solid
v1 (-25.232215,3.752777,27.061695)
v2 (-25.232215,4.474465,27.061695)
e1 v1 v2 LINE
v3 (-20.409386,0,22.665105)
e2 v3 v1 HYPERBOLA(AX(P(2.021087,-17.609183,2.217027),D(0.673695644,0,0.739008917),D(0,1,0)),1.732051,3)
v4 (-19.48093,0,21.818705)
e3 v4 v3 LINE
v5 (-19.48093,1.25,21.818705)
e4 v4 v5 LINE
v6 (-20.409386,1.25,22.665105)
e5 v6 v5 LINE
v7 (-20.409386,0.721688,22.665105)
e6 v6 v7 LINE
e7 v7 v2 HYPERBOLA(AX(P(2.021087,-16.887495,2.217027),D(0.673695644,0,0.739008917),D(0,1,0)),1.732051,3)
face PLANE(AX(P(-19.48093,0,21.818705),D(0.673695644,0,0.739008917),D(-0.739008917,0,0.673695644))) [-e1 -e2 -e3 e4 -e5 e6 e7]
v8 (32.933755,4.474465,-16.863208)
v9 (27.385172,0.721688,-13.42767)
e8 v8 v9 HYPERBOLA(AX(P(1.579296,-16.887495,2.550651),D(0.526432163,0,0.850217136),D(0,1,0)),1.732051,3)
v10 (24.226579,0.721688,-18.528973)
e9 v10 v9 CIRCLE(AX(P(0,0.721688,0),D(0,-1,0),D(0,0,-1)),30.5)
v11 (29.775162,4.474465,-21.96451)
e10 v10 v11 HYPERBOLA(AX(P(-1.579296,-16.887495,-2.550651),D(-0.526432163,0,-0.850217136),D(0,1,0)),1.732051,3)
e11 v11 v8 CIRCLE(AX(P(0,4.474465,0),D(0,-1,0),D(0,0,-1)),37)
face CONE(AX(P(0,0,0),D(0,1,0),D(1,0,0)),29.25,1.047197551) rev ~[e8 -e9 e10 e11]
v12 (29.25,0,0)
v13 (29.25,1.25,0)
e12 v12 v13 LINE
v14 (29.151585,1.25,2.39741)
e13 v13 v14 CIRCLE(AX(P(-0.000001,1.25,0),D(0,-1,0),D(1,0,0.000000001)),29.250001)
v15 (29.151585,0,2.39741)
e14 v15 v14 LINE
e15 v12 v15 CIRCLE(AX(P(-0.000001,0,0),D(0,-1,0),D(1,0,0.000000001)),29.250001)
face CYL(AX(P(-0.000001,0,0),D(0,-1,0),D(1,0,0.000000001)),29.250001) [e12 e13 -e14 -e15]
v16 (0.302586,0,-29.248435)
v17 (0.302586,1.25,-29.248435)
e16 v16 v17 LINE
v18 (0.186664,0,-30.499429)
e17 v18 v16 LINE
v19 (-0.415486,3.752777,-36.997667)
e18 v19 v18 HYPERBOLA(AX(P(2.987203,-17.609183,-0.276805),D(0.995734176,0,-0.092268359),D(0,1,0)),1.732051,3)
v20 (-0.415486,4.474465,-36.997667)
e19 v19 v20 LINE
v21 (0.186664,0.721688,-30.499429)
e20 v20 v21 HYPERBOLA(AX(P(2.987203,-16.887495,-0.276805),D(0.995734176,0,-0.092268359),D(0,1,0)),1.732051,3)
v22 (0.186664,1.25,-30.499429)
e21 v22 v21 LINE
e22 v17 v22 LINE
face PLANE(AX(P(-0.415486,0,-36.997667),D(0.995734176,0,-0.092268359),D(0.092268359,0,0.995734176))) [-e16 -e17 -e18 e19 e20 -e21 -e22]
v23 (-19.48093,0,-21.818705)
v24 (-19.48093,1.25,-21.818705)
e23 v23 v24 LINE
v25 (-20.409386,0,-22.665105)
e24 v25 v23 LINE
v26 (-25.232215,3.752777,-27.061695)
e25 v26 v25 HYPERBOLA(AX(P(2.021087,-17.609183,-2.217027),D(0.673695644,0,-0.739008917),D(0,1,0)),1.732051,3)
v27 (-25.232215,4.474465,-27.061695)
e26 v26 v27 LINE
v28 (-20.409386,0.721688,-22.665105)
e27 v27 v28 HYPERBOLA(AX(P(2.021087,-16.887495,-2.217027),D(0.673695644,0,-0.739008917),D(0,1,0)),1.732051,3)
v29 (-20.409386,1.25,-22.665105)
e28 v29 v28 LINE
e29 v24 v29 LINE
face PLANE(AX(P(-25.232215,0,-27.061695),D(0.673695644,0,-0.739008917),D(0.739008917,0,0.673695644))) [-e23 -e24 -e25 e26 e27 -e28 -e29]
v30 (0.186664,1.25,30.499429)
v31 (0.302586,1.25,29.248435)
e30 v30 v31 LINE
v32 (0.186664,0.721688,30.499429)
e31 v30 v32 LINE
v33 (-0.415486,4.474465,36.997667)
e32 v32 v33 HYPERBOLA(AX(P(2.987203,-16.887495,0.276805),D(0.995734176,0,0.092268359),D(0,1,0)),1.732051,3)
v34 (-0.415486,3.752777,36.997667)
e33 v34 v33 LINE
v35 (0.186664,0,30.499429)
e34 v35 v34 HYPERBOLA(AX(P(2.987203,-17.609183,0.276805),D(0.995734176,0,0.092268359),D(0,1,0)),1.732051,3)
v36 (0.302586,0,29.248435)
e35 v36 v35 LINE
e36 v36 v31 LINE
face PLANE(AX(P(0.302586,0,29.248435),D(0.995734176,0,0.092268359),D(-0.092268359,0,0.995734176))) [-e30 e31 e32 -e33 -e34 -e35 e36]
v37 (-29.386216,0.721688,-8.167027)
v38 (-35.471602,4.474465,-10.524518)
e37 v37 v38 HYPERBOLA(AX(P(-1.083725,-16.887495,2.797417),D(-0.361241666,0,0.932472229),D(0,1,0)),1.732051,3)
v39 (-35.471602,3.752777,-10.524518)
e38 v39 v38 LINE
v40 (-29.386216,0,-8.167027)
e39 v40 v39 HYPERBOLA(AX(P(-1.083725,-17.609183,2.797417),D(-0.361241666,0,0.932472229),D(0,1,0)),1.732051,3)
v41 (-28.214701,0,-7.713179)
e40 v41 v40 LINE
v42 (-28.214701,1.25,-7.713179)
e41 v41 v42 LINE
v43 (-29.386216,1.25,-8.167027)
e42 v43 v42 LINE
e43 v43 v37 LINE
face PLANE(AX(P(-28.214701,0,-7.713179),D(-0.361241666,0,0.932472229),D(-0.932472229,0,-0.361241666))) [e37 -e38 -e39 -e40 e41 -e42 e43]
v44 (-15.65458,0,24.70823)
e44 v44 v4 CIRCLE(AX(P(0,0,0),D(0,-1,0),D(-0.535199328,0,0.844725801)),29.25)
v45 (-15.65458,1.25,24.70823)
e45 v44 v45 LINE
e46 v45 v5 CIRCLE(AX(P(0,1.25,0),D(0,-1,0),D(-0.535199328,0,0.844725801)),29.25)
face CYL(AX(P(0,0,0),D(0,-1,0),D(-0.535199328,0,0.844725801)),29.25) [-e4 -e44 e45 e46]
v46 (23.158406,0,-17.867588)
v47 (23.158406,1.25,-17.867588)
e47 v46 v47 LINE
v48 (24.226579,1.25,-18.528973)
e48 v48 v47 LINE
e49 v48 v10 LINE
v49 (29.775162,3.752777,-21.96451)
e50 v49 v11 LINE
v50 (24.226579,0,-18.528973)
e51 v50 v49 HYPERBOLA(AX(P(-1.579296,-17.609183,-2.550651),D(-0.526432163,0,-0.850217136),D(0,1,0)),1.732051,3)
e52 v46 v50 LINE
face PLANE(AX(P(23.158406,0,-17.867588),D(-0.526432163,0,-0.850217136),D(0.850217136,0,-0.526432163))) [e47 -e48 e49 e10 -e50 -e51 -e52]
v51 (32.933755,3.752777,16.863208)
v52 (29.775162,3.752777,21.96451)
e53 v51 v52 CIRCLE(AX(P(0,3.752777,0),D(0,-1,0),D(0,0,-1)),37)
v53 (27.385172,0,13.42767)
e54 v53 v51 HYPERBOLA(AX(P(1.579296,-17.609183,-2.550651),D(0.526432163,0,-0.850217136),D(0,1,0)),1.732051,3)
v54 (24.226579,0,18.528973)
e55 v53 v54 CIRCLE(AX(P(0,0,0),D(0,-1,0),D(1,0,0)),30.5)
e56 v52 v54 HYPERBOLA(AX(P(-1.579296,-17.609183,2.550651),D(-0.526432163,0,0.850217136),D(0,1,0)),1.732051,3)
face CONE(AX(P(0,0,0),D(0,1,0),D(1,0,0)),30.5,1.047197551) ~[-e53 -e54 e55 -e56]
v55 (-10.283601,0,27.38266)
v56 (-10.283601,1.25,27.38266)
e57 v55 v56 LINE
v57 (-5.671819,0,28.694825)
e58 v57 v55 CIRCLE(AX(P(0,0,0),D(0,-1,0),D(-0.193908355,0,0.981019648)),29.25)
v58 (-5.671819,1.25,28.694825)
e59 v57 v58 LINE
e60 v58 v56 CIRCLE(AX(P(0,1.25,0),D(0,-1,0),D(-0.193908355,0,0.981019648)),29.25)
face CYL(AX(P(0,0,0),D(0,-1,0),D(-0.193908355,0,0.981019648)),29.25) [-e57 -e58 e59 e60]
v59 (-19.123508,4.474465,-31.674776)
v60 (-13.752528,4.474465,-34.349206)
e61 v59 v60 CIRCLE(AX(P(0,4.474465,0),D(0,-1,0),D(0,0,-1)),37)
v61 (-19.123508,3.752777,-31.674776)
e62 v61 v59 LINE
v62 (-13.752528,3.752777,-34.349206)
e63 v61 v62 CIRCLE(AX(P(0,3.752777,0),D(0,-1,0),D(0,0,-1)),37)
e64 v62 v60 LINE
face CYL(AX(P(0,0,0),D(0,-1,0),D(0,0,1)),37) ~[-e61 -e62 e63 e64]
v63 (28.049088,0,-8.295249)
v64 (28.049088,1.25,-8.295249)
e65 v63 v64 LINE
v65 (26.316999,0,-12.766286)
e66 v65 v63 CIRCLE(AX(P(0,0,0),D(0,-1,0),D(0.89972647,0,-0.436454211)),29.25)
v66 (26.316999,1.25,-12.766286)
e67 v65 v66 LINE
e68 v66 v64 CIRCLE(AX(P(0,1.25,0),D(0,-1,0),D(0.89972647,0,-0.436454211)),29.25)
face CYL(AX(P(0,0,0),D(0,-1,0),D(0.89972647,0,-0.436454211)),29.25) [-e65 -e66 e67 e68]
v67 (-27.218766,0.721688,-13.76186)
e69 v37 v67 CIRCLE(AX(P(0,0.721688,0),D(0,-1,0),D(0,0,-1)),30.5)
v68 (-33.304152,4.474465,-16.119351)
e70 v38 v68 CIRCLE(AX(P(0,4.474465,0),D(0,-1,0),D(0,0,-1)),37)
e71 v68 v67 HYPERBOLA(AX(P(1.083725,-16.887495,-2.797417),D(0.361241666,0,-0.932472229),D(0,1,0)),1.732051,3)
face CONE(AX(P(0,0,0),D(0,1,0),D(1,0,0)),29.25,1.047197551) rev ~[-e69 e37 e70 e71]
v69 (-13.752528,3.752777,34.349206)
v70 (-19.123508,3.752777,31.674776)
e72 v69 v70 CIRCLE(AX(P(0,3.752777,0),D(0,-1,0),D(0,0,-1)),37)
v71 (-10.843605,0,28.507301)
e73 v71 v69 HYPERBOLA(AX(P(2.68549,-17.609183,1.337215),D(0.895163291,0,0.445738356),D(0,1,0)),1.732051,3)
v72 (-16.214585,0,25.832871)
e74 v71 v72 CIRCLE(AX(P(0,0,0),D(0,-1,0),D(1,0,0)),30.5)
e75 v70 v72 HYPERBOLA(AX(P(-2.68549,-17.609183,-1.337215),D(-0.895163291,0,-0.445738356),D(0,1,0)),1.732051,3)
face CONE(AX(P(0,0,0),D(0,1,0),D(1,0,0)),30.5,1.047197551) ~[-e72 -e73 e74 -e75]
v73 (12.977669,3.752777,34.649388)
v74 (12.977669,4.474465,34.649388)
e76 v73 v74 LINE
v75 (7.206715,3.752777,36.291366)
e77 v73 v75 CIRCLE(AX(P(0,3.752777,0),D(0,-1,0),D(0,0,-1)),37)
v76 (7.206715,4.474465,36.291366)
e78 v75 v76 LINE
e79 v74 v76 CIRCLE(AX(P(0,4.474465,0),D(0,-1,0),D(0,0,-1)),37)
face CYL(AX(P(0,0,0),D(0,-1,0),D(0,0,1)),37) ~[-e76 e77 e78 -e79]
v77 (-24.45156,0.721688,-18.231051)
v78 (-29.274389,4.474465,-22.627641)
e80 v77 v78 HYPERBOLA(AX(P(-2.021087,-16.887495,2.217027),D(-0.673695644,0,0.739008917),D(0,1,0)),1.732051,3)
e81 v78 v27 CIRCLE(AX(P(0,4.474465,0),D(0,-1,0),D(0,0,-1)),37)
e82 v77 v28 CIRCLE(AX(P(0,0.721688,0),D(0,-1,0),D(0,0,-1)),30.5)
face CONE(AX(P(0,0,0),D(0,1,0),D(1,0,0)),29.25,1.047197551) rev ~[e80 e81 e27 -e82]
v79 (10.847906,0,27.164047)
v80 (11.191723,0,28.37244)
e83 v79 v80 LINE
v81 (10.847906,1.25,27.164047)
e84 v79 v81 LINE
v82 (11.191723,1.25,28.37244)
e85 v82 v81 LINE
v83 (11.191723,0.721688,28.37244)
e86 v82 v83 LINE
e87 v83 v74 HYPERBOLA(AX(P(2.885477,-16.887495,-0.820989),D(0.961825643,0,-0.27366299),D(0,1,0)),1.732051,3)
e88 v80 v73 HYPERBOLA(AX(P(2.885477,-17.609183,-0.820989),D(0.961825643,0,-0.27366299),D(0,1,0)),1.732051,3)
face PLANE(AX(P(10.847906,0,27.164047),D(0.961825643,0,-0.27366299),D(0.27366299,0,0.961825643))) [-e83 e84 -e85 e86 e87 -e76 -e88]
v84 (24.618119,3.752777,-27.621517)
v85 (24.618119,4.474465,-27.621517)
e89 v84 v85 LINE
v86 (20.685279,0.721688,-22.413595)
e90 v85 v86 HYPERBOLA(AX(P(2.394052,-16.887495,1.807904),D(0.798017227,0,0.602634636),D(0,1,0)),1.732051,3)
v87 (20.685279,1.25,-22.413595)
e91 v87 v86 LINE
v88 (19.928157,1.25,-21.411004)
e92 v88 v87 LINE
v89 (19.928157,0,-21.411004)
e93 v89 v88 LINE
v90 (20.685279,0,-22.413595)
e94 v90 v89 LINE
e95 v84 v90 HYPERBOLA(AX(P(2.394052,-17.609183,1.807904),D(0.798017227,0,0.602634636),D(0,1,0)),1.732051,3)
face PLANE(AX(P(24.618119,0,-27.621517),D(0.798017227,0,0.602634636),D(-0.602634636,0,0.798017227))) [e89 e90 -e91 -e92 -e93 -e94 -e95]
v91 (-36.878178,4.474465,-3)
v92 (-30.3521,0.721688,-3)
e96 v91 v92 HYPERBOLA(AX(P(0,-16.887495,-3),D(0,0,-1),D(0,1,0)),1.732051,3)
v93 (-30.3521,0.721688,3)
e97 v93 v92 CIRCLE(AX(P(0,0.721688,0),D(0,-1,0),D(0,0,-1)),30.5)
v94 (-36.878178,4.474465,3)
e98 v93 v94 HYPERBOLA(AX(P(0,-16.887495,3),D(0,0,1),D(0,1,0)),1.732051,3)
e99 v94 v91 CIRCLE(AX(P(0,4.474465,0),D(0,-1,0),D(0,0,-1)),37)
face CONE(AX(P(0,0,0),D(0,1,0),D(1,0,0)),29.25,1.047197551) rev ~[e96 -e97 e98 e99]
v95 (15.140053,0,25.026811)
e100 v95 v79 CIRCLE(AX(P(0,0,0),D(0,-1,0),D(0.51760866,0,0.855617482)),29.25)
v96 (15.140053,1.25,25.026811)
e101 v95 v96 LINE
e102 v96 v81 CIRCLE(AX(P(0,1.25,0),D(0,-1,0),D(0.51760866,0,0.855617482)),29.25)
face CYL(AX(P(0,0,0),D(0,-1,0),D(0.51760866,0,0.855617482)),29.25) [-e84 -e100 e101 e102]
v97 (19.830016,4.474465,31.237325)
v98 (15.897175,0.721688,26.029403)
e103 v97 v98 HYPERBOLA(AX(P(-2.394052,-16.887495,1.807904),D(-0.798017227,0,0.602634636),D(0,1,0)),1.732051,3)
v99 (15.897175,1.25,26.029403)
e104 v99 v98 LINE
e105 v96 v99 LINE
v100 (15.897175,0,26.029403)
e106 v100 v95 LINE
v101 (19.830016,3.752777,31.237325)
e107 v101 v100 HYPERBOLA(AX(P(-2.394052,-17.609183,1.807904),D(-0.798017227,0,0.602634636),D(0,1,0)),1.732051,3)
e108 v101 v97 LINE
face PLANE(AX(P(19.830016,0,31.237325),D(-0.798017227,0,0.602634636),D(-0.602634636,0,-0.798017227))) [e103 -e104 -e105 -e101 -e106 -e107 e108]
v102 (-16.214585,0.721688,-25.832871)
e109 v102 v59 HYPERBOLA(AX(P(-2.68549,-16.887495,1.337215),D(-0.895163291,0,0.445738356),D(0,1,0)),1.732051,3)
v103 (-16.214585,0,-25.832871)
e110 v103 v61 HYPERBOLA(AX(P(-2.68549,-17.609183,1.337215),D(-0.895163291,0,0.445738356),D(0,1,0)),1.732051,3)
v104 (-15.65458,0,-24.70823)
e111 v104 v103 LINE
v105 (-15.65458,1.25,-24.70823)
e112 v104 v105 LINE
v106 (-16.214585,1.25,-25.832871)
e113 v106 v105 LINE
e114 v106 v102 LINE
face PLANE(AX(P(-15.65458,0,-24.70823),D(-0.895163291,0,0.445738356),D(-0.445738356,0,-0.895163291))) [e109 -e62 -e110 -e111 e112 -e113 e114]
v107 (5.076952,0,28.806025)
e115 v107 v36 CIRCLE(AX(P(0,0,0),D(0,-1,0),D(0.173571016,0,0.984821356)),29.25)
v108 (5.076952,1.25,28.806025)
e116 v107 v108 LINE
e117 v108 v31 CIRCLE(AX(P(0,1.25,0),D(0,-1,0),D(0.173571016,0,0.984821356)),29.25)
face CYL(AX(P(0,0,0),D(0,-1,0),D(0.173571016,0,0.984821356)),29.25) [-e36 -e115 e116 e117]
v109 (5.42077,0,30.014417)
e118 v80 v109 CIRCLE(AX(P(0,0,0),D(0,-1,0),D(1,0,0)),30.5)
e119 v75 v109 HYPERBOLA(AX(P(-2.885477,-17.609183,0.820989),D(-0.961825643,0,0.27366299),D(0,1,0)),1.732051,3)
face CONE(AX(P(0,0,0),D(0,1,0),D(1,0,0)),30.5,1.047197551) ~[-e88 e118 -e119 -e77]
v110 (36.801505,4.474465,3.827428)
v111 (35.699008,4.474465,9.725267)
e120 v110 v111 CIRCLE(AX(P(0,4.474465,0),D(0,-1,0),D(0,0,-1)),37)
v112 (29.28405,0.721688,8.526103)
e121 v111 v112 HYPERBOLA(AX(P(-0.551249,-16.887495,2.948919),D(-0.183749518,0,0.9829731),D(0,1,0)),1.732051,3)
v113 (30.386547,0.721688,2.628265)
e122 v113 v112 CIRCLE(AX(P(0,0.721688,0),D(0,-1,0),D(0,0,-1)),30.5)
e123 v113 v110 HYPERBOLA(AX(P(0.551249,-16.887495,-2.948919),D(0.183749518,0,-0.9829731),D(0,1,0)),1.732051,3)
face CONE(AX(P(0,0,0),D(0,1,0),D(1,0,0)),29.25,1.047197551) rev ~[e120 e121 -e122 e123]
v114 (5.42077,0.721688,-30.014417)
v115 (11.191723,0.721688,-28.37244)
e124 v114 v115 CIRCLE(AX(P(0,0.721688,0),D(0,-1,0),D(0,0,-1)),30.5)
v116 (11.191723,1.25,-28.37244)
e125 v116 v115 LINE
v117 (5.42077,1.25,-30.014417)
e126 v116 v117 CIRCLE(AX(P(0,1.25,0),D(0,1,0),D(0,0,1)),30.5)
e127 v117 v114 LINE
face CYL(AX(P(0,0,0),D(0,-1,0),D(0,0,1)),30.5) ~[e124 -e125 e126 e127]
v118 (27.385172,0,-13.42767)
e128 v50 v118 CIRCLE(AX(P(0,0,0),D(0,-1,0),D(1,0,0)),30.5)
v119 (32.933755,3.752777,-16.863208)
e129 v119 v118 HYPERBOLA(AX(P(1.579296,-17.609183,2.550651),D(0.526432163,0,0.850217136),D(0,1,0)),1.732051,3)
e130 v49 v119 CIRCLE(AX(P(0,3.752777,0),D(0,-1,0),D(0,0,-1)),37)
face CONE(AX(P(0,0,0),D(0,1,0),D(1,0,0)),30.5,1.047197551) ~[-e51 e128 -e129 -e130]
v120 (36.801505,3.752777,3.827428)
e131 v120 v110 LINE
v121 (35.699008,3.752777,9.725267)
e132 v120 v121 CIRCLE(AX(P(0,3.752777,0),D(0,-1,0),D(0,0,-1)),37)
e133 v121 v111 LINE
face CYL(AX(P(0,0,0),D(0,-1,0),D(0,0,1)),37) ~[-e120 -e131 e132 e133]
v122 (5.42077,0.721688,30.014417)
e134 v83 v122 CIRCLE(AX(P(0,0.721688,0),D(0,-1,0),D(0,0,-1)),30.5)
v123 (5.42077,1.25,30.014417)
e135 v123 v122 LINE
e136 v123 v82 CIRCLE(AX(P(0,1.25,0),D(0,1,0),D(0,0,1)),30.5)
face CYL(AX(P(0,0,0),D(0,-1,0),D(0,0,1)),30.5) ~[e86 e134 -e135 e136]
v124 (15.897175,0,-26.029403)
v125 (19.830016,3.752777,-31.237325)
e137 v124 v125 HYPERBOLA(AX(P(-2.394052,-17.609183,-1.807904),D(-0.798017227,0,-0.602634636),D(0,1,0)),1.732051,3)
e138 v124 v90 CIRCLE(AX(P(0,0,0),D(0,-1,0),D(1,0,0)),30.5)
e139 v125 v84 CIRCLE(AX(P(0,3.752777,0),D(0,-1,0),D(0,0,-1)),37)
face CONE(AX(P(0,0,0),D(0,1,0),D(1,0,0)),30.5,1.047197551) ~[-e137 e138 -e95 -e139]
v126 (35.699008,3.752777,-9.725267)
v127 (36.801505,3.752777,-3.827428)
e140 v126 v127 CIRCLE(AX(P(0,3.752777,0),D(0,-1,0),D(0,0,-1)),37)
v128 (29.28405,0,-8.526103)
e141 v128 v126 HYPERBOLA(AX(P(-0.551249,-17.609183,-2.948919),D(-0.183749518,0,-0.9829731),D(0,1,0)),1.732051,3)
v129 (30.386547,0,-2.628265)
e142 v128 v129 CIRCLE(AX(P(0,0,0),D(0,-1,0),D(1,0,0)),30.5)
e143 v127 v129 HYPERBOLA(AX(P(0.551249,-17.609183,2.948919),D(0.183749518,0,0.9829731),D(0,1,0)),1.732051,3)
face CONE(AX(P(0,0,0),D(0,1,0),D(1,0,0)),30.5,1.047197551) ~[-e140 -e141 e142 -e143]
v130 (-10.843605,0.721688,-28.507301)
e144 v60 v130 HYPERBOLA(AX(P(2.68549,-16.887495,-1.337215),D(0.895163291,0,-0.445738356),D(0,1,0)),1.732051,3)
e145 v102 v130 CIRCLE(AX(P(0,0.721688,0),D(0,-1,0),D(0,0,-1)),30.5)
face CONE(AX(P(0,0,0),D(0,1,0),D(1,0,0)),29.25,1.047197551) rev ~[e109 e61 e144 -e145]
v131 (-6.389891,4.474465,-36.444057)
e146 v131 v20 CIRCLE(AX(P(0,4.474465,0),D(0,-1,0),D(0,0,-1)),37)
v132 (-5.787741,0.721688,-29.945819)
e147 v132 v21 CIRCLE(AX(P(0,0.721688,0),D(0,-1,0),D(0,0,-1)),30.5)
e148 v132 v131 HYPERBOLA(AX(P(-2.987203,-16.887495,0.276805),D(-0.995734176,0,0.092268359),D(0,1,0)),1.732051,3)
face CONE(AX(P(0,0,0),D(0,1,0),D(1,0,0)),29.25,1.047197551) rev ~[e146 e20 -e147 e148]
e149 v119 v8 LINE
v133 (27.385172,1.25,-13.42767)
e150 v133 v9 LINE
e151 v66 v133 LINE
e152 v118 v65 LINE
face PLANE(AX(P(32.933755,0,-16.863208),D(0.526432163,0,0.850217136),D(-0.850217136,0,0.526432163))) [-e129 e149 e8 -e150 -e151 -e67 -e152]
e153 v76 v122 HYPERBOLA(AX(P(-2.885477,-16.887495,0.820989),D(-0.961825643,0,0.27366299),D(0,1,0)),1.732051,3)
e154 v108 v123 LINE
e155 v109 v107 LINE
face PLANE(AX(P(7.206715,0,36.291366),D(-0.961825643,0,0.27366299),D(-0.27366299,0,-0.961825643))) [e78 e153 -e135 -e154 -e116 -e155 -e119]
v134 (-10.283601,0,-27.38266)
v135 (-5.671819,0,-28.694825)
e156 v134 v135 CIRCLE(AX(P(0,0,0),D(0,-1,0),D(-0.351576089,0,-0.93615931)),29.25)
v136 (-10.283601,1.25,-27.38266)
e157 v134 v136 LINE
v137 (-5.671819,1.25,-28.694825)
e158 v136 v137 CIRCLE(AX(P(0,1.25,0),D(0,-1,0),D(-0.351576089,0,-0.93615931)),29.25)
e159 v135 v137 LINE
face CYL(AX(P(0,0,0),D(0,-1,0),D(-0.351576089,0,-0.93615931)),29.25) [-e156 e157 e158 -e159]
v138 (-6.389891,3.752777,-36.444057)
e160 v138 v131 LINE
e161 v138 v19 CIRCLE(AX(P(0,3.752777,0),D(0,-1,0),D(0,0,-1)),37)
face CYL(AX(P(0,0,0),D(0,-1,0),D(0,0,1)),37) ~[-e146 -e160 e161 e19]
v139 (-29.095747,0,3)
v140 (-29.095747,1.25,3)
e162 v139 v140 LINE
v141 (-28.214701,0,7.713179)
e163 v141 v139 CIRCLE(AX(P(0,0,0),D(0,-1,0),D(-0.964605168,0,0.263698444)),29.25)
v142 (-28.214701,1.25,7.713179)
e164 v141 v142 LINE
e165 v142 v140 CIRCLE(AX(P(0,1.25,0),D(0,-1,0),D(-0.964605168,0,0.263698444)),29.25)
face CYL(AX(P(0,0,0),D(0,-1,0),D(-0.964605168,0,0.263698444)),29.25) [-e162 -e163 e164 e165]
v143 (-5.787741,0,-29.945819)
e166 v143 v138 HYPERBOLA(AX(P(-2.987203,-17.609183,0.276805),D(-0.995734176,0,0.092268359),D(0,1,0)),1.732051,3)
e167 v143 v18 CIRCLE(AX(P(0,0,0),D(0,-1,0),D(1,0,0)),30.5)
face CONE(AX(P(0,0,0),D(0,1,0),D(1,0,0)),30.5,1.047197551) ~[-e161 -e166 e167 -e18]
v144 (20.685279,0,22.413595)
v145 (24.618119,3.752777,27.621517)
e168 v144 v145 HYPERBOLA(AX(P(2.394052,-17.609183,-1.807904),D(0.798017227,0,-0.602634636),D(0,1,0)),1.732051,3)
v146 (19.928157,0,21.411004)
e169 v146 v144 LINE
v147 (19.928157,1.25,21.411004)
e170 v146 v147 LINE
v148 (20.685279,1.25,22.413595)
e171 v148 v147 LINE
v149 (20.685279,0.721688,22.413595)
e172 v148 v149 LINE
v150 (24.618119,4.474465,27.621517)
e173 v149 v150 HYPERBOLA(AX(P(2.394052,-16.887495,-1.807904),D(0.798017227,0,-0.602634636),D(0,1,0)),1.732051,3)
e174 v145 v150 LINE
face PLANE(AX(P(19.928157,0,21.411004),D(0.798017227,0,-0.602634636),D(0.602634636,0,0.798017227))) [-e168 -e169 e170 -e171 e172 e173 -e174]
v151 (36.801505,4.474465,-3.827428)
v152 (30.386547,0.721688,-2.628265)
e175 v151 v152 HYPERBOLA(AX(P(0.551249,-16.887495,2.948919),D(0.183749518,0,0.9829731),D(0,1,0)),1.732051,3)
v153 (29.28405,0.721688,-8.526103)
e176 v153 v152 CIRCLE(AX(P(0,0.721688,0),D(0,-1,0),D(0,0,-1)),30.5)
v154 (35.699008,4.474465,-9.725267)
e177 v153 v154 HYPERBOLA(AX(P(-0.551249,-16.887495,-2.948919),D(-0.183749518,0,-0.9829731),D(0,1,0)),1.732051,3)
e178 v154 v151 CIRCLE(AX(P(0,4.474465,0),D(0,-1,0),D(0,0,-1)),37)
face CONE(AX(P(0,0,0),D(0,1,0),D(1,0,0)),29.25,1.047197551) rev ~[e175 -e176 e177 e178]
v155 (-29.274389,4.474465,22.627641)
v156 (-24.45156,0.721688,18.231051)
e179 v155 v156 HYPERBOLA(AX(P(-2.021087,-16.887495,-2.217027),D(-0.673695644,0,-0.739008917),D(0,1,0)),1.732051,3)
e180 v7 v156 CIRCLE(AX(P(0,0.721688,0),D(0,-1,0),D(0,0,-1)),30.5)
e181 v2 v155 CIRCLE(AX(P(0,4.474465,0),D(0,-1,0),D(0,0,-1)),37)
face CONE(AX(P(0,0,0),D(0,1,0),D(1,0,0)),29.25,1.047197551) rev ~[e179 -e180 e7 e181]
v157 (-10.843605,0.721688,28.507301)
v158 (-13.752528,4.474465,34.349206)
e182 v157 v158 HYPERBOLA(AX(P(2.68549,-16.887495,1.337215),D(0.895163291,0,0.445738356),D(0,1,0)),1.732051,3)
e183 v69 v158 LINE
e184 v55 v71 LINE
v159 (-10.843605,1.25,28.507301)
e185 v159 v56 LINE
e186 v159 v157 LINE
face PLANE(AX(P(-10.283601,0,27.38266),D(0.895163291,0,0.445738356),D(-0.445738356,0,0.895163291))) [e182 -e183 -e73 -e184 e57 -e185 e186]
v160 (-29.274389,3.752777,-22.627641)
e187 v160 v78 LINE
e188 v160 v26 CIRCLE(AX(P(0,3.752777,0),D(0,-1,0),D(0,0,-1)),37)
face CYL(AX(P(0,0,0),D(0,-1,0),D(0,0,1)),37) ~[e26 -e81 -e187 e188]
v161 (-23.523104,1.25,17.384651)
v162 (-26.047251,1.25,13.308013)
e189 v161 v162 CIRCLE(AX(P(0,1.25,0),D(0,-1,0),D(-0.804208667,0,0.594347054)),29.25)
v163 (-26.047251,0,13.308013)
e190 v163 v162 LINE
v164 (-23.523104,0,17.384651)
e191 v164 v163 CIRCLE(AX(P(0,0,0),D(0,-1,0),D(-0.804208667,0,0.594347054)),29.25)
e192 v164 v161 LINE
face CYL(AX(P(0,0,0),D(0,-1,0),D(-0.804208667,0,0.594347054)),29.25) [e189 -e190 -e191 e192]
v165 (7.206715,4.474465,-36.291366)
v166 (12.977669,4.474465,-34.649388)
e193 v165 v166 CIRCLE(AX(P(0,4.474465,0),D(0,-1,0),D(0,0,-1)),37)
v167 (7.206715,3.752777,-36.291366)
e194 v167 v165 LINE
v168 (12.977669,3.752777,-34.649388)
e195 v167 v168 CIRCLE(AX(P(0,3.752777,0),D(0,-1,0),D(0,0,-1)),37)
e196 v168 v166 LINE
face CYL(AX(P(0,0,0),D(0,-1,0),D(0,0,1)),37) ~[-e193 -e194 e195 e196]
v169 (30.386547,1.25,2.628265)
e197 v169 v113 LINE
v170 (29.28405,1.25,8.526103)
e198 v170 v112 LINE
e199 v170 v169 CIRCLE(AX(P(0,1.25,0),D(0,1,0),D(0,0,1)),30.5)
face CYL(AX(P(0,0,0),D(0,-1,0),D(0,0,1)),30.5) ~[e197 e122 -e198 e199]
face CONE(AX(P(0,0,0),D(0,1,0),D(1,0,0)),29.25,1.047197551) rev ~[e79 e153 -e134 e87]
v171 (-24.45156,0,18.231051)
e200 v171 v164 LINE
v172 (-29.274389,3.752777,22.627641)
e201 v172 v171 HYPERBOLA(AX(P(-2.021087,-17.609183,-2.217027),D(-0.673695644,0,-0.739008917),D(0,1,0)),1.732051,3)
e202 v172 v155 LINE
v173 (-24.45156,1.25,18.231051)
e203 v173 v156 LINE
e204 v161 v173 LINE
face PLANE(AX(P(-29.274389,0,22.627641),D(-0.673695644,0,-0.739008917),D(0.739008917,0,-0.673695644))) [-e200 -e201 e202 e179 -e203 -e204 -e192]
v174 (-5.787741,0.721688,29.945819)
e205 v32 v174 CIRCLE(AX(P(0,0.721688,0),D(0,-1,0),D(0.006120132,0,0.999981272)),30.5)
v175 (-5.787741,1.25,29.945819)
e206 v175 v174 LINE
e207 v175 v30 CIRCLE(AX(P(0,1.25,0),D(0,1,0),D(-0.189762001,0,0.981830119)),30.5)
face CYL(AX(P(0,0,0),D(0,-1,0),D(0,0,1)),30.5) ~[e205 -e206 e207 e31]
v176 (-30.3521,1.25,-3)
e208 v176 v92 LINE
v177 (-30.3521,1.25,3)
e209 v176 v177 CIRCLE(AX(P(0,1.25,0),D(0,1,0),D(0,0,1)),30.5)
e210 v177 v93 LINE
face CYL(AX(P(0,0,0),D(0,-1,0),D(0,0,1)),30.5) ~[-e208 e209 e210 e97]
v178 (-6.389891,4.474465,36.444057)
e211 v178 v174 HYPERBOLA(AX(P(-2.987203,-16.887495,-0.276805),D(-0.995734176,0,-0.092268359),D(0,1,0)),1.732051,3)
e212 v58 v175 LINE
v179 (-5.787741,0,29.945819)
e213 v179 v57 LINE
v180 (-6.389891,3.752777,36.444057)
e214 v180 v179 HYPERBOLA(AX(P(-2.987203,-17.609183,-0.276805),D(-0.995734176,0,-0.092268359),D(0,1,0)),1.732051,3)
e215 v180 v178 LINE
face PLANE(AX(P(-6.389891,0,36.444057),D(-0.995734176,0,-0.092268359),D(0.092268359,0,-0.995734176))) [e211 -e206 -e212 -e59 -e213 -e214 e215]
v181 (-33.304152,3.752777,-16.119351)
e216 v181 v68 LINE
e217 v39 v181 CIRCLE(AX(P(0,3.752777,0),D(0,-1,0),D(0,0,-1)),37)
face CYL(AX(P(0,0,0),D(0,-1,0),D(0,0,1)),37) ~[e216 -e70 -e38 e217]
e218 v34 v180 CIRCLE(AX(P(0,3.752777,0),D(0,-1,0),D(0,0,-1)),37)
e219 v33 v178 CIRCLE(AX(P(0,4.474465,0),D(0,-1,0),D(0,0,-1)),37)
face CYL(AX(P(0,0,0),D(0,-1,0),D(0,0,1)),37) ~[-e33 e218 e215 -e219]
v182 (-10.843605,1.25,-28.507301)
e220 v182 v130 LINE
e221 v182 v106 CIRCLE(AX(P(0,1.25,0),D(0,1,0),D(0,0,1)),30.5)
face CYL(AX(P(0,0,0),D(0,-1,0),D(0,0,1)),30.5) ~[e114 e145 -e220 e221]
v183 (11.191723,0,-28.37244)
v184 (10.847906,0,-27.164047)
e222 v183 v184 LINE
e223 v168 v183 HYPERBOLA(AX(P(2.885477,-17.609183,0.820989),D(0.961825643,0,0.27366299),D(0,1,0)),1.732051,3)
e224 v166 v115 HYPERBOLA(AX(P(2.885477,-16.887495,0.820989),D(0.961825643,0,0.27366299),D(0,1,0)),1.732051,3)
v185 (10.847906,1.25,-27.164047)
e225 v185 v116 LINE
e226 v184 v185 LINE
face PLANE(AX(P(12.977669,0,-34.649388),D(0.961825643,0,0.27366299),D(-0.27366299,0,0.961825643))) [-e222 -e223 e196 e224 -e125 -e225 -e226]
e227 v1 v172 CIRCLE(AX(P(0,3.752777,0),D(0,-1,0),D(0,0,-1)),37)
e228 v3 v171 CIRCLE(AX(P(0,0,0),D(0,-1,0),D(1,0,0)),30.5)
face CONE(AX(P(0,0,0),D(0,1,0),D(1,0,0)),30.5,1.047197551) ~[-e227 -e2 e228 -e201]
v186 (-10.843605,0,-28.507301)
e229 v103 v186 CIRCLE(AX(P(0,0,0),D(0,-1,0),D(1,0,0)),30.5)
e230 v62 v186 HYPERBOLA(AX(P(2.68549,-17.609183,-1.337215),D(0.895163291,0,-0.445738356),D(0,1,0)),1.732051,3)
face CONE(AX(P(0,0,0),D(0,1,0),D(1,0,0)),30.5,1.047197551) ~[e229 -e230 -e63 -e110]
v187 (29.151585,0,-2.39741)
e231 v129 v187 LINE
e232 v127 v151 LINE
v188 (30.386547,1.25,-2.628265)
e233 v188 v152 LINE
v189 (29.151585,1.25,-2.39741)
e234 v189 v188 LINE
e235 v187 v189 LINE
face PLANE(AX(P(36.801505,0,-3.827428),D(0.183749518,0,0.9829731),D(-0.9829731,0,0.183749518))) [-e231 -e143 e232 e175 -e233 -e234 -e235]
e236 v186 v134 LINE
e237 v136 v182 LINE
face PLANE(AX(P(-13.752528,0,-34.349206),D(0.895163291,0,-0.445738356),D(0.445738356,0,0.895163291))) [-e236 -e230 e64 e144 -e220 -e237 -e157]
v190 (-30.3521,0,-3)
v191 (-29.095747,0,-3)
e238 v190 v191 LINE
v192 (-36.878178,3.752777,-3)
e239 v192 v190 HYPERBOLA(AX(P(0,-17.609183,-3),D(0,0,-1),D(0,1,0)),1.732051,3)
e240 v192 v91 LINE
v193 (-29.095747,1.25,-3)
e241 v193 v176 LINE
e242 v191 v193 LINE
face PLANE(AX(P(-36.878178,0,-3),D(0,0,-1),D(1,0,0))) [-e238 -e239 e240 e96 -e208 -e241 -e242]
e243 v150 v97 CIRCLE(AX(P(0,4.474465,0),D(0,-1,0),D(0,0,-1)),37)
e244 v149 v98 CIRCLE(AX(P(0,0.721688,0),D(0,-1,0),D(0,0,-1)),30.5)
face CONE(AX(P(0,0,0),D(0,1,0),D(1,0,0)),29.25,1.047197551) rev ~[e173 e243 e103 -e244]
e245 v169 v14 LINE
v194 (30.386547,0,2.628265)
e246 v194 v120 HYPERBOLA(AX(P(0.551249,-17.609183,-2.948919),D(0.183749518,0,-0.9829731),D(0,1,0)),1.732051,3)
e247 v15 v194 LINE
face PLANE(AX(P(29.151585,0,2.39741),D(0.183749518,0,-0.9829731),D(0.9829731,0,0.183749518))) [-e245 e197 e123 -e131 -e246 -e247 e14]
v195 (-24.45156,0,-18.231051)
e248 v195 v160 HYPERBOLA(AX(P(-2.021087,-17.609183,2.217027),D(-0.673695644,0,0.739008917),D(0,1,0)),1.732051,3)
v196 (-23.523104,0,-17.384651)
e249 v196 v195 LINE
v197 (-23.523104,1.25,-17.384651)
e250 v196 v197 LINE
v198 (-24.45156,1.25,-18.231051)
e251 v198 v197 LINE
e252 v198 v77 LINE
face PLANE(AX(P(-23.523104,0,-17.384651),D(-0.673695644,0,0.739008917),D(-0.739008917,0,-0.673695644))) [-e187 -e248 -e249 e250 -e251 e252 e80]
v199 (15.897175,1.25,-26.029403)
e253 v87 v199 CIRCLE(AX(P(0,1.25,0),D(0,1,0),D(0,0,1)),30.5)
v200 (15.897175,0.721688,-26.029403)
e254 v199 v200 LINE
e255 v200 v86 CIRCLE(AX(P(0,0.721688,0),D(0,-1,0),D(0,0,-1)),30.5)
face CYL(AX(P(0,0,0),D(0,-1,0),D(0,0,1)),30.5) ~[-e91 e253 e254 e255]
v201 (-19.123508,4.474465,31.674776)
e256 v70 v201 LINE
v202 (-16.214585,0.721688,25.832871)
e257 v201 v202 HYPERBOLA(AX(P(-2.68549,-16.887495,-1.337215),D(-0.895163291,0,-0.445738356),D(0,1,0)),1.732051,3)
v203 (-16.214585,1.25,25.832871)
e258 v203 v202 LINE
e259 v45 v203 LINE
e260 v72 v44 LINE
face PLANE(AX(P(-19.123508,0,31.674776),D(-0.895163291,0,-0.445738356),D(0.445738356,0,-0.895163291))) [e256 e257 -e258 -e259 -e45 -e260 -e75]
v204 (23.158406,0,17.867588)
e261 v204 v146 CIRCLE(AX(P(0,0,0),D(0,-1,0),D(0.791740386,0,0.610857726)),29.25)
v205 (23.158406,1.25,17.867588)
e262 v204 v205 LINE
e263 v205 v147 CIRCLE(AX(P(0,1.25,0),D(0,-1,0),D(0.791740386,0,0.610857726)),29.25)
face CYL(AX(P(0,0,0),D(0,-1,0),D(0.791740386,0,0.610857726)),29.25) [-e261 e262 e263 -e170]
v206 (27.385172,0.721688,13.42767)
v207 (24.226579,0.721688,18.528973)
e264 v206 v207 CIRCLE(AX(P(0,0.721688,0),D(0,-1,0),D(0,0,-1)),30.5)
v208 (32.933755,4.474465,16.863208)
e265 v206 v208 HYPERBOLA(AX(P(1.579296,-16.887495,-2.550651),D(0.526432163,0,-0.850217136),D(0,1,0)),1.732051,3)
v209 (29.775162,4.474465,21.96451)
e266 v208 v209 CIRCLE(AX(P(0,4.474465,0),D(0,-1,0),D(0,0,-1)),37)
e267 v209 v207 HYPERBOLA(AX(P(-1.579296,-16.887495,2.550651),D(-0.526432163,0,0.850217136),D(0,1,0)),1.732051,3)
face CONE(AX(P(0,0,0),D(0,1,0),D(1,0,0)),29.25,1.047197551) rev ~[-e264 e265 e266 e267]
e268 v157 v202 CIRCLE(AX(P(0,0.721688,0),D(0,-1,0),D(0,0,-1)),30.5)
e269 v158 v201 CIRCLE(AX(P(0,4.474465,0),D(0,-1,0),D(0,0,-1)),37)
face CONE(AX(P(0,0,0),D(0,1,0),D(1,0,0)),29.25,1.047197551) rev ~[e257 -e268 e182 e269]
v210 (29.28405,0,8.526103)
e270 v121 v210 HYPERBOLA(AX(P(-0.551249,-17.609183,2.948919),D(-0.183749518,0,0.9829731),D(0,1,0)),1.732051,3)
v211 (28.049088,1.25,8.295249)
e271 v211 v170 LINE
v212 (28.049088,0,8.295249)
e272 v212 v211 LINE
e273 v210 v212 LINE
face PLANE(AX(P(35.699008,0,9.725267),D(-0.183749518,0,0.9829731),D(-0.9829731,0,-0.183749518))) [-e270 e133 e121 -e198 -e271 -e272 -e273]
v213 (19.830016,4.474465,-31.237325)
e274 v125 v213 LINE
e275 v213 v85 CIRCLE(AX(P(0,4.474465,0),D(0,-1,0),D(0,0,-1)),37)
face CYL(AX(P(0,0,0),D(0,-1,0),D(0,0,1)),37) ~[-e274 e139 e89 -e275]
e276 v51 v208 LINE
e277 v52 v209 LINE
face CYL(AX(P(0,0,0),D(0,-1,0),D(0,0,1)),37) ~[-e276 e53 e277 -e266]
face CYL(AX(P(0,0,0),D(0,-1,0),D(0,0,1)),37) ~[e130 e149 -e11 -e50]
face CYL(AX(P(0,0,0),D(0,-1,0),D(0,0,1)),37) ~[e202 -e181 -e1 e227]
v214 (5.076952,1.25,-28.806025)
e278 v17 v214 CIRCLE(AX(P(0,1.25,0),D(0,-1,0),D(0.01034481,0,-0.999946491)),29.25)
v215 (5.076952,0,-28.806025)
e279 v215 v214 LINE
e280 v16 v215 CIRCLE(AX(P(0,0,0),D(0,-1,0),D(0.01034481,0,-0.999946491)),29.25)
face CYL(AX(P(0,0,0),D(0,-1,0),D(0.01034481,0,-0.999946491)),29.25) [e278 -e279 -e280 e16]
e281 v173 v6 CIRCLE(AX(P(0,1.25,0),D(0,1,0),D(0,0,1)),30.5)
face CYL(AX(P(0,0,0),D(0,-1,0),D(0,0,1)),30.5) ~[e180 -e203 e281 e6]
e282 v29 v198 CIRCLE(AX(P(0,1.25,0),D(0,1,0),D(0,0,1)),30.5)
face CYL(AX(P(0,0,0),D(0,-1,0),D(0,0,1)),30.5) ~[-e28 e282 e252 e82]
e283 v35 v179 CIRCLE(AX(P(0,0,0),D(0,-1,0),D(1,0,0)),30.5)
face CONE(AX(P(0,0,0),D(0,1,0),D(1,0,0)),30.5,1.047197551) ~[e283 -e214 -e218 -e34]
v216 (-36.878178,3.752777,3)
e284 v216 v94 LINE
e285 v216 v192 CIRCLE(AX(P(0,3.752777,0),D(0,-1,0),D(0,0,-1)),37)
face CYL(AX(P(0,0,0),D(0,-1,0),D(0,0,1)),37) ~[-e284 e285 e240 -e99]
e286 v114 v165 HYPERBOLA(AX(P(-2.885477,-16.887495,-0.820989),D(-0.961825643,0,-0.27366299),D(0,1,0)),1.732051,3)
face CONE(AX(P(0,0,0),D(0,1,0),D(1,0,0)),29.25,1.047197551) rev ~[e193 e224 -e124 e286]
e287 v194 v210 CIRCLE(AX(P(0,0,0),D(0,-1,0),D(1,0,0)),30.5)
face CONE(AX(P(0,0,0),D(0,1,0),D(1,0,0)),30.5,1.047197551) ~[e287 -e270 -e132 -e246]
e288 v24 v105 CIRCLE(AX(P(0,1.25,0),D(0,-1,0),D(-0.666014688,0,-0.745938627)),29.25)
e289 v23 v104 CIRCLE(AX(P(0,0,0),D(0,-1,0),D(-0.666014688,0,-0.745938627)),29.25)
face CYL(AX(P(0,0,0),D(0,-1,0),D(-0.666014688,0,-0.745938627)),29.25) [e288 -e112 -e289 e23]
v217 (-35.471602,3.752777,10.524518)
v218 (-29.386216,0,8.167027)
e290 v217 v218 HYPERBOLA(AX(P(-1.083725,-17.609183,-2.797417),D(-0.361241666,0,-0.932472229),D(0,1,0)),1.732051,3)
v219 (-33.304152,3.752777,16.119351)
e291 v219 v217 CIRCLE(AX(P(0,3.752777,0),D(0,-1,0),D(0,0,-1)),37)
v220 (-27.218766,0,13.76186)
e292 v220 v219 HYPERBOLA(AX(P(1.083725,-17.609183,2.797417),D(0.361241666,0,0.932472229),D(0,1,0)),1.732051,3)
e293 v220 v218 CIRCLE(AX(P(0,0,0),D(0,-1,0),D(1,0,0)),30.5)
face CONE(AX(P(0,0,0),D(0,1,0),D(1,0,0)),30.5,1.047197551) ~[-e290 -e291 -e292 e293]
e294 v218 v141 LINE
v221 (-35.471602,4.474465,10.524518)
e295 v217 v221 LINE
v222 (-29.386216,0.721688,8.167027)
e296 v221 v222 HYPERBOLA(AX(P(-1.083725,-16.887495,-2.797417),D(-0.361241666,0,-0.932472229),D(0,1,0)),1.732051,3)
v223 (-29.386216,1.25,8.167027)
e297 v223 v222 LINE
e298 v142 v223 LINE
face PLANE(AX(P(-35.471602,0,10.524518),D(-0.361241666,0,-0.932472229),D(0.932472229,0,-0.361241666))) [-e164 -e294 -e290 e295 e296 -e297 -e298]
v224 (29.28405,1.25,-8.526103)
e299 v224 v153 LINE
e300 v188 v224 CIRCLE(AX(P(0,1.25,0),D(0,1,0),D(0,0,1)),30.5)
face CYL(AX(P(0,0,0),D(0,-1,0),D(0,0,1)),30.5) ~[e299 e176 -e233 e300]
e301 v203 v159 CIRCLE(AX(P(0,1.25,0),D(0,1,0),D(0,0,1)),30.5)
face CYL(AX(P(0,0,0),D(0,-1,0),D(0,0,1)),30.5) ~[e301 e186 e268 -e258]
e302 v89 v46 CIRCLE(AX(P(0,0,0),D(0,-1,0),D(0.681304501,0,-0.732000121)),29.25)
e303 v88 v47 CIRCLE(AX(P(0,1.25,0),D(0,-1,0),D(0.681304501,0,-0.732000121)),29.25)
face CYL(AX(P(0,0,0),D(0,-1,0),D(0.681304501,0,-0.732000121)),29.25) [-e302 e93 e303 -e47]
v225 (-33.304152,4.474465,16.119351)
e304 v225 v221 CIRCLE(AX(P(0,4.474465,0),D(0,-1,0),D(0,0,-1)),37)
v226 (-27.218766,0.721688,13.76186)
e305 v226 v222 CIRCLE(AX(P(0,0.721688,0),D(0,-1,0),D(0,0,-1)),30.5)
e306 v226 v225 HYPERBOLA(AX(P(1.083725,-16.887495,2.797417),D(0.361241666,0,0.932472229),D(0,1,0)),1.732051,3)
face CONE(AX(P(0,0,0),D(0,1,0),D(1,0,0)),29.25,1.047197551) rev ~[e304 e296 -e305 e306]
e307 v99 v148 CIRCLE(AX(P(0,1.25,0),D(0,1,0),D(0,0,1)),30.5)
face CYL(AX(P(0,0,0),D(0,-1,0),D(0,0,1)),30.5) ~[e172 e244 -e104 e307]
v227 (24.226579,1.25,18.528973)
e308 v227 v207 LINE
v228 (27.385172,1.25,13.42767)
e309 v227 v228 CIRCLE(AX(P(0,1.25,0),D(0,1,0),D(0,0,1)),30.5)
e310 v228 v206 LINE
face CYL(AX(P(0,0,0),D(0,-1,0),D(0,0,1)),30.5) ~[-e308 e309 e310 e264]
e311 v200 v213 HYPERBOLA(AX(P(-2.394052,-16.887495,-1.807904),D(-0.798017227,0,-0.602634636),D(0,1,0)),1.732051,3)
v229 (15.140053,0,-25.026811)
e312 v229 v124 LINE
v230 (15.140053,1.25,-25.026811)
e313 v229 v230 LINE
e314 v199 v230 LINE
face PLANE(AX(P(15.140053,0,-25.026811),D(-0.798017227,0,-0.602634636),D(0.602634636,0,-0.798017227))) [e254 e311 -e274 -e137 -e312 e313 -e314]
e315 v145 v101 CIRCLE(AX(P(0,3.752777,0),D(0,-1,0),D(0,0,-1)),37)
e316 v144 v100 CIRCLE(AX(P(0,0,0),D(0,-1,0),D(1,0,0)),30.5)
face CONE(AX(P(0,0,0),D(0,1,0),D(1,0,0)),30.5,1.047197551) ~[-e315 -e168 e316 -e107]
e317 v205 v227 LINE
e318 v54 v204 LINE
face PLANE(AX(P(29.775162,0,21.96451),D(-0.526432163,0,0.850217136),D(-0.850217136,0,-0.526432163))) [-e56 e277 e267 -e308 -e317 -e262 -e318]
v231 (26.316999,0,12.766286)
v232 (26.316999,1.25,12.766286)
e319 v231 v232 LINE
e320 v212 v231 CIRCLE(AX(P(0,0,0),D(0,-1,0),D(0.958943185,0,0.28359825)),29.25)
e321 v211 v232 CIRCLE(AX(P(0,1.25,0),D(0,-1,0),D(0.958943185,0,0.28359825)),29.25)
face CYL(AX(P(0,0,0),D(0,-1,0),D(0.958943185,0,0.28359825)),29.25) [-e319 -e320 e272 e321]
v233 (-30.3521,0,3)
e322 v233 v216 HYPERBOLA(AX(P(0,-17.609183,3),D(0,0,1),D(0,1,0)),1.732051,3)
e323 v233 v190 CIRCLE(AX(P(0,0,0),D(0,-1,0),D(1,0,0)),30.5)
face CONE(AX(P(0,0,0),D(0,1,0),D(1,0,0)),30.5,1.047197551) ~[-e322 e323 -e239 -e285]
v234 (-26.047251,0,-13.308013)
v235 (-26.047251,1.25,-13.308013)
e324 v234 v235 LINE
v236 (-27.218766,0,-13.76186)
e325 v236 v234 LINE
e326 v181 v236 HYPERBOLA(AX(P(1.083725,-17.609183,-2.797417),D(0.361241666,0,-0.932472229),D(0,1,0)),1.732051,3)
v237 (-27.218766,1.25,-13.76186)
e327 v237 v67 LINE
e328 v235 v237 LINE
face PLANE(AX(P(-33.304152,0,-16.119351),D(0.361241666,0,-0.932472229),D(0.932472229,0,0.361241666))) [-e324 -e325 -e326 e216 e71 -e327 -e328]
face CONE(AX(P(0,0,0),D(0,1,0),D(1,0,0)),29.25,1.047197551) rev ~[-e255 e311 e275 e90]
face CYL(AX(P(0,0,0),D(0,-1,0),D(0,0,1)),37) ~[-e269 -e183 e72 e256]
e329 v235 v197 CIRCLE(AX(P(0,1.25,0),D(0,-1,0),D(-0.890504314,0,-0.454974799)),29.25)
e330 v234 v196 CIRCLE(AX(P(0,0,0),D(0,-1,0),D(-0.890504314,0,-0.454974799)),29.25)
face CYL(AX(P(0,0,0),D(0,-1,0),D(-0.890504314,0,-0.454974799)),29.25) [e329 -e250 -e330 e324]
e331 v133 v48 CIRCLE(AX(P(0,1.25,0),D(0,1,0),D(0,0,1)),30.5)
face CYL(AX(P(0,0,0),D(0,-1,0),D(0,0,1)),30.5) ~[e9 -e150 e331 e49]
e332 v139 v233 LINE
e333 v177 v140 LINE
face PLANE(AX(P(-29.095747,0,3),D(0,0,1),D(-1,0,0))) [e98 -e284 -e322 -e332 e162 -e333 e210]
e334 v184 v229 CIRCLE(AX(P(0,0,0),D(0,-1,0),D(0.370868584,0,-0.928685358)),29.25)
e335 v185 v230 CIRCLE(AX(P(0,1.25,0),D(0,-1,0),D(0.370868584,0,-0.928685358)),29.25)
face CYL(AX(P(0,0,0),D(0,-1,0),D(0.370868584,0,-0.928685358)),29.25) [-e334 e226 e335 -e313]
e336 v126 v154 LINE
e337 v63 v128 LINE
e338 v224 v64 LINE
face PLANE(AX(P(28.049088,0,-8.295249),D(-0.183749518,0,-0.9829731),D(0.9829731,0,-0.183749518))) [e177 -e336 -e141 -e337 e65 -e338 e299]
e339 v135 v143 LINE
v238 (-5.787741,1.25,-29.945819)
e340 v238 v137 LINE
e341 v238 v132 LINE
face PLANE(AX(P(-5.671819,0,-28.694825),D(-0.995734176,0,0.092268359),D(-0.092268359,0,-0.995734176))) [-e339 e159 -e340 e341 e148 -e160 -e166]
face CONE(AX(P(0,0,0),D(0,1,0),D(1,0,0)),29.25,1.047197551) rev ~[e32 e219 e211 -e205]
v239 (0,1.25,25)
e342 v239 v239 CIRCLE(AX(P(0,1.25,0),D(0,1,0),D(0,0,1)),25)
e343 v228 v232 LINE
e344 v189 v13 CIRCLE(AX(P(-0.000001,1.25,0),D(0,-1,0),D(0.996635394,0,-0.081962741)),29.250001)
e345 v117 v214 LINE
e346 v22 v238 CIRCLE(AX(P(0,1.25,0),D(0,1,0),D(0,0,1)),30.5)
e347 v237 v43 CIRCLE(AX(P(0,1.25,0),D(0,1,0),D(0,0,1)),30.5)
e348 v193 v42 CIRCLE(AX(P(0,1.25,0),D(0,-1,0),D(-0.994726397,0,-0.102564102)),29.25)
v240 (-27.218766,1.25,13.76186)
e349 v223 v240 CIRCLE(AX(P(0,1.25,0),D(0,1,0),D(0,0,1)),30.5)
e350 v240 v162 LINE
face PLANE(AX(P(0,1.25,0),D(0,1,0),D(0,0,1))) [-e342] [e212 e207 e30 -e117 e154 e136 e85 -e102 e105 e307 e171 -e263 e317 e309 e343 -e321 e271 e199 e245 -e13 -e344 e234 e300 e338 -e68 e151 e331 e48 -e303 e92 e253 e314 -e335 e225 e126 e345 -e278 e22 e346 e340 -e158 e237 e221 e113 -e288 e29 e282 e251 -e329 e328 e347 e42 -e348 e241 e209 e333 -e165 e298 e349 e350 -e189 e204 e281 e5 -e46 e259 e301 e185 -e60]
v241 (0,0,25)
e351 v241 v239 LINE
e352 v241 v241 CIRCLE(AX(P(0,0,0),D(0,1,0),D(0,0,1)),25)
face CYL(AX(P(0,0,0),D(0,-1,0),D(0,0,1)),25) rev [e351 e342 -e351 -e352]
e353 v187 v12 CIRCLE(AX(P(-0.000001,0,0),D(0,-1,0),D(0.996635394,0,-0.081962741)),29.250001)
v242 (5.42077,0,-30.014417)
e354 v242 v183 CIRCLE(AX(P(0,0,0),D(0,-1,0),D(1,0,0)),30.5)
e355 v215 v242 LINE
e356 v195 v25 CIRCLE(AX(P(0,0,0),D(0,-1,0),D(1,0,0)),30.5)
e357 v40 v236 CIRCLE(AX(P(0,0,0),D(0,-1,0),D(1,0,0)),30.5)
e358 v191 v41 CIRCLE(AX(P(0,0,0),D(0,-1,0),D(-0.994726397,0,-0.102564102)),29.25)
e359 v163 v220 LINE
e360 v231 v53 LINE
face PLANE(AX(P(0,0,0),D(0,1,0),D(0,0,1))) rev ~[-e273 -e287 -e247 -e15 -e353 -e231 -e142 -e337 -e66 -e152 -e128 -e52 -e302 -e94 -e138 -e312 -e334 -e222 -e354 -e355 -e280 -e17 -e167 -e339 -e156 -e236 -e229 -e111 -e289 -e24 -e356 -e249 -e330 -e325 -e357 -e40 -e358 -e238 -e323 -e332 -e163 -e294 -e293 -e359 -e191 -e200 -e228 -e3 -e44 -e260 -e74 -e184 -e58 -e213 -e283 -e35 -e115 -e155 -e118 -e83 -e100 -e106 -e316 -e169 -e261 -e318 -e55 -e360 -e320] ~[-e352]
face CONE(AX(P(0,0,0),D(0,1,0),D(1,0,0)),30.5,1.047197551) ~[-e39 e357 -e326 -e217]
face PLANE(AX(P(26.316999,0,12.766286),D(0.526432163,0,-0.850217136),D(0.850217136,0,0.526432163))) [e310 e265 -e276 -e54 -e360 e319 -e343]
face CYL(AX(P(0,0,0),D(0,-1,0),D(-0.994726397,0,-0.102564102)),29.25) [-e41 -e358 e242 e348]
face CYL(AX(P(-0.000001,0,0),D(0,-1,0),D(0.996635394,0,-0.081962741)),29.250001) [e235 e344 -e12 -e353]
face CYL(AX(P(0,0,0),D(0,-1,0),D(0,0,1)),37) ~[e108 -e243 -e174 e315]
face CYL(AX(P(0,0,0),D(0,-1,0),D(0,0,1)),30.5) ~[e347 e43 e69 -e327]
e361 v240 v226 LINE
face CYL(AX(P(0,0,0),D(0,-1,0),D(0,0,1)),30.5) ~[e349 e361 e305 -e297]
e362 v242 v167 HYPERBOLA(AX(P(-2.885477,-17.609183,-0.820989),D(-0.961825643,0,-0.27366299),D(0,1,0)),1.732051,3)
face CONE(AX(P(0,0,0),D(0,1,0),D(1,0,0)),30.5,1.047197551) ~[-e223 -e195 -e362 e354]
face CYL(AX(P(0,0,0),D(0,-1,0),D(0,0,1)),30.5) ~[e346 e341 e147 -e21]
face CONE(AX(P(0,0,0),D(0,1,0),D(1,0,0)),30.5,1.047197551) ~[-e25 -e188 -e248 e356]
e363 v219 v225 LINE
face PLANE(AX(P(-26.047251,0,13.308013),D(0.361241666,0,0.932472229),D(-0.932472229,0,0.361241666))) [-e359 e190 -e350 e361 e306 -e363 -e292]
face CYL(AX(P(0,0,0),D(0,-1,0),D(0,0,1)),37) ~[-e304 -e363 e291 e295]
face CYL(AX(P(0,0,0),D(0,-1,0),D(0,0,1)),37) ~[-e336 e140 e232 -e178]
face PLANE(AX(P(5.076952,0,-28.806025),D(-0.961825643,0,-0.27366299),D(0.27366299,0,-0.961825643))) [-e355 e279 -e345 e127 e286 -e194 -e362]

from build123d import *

# Parameters (mm, degrees)
SKETCH1_R           = 30.5
SKETCH1_R_2         = 25
BOSS_EXTRUDE1_DEPTH = 1.25
SKETCH2_R           = 30.5
BOSS_EXTRUDE2_DEPTH = 30
BOSS_EXTRUDE2_DRAFT = -60
SKETCH3_R           = 29.25
CUT_EXTRUDE1_DEPTH  = 30
CUT_EXTRUDE1_DRAFT  = 60
SKETCH4_R           = 94.674694241
SKETCH4_R_2         = 37
CUT_EXTRUDE2_DEPTH  = 30
SKETCH7_R           = 30.5
SKETCH7_R_2         = 25
BOSS_EXTRUDE4_DEPTH = 1.25
CUT_EXTRUDE3_DEPTH  = 30


with BuildPart() as part:
    # Sketch1 → Boss-Extrude1 (new body)
    with BuildSketch(Plane(origin=(0, 0, 0), x_dir=(1, 0, 0), z_dir=(0, 1, 0))):
        with Locations(Location((0, 0, 0), (0, 0, 270))):
            Circle(SKETCH1_R)
        with Locations(Location((0, 0, 0), (0, 0, 270))):
            Circle(SKETCH1_R_2, mode=Mode.SUBTRACT)
    extrude(amount=BOSS_EXTRUDE1_DEPTH)


with BuildPart() as boss_extrude2_tool:
    # Sketch2 → Boss-Extrude2 (with draft: the straight prism first)
    with BuildSketch(Plane(origin=(0, 0, 0), x_dir=(1, 0, 0), z_dir=(0, 1, 0))):
        Circle(SKETCH2_R)
    extrude(amount=BOSS_EXTRUDE2_DEPTH)
    # Boss-Extrude2: the draft: its side faces are tilted about the plane it starts from
    boss_extrude2_sides = [boss_extrude2_tool.faces().sort_by_distance(p)[0] for p in [
        (-30.5, 15, 0),
    ]]
    draft(boss_extrude2_sides, Plane(origin=(0, 0, 0), x_dir=(1, 0, 0), z_dir=(0, 1, 0)), BOSS_EXTRUDE2_DRAFT)


with BuildPart() as part_1:
    add(part.part)

    # Boss-Extrude2: add boss_extrude2_tool
    add(boss_extrude2_tool.part)


with BuildPart() as cut_extrude1_tool:
    # Sketch3 → Cut-Extrude1 (with draft: the straight prism first)
    with BuildSketch(Plane.XZ):
        Circle(SKETCH3_R)
    extrude(amount=-CUT_EXTRUDE1_DEPTH)
    # Cut-Extrude1: the draft: its side faces are tilted about the plane it starts from
    cut_extrude1_sides = [cut_extrude1_tool.faces().sort_by_distance(p)[0] for p in [
        (-29.25, 15, 0),
    ]]
    draft(cut_extrude1_sides, Plane.XZ, CUT_EXTRUDE1_DRAFT)


with BuildPart() as part_2:
    add(part_1.part)

    # Cut-Extrude1: cut by cut_extrude1_tool
    add(cut_extrude1_tool.part, mode=Mode.SUBTRACT)

    # Sketch4 → Cut-Extrude2 (cut)
    with BuildSketch(Plane(origin=(0, 0, 0), x_dir=(1, 0, 0), z_dir=(0, 1, 0))):
        Circle(SKETCH4_R)
        with Locations(Location((0, 0, 0), (0, 0, 270))):
            Circle(SKETCH4_R_2, mode=Mode.SUBTRACT)
    extrude(amount=CUT_EXTRUDE2_DEPTH, mode=Mode.SUBTRACT)

    # Sketch7 → Boss-Extrude4 (add)
    with BuildSketch(Plane(origin=(0, 0, 0), x_dir=(1, 0, 0), z_dir=(0, 1, 0))):
        with Locations(Location((0, 0, 0), (0, 0, 270))):
            Circle(SKETCH7_R)
        with Locations(Location((0, 0, 0), (0, 0, 270))):
            Circle(SKETCH7_R_2, mode=Mode.SUBTRACT)
    extrude(amount=BOSS_EXTRUDE4_DEPTH)

    # Sketch5 → Cut-Extrude3 (cut)
    with BuildSketch(Plane(origin=(0, 0, 0), x_dir=(1, 0, 0), z_dir=(0, 1, 0))):
        with BuildLine():
            Line((-36.878177829, 3), (-29.095747112, 3))
            ThreePointArc((-29.095747112, 3), (-28.751963166, 5.374673396), (-28.214701174, 7.713179477))
            Line((-28.214701174, 7.713179477), (-35.471601695, 10.524517717))
            ThreePointArc((-35.471601695, 10.524517717), (-36.370004688, 6.798732159), (-36.878177829, 3))
        make_face()
        with BuildLine():
            Line((-33.304151698, 16.119351093), (-26.047251177, 13.308012854))
            ThreePointArc((-26.047251177, 13.308012854), (-24.86885122, 15.398140764), (-23.5231035, 17.384651326))
            Line((-23.5231035, 17.384651326), (-29.274389198, 22.627640997))
            ThreePointArc((-29.274389198, 22.627640997), (-31.458034022, 19.477990026), (-33.304151698, 16.119351093))
        make_face()
        with BuildLine():
            Line((-25.232215336, 27.061694501), (-19.480929638, 21.81870483))
            ThreePointArc((-19.480929638, 21.81870483), (-17.627063114, 23.342003898), (-15.654580352, 24.708229682))
            Line((-15.654580352, 24.708229682), (-19.123508224, 31.674775977))
            ThreePointArc((-19.123508224, 31.674775977), (-22.297481546, 29.526637409), (-25.232215336, 27.061694501))
        make_face()
        with BuildLine():
            Line((-13.752528476, 34.349206112), (-10.283600604, 27.382659816))
            ThreePointArc((-10.283600604, 27.382659816), (-8.00464246, 28.133400063), (-5.671819382, 28.694824706))
            Line((-5.671819382, 28.694824706), (-6.389891497, 36.444056946))
            ThreePointArc((-6.389891497, 36.444056946), (-10.125530633, 35.587548797), (-13.752528476, 34.349206112))
        make_face()
        with BuildLine():
            Line((-0.415486439, 36.997667102), (0.302585676, 29.248434863))
            ThreePointArc((0.302585676, 29.248434863), (2.698849514, 29.125224657), (5.076952224, 28.80602465))
            Line((5.076952224, 28.80602465), (7.206715484, 36.29136608))
            ThreePointArc((7.206715484, 36.29136608), (3.4139293, 36.842164523), (-0.415486439, 36.997667102))
        make_face()
        with BuildLine():
            Line((12.977669343, 34.649388139), (10.847906083, 27.164046709))
            ThreePointArc((10.847906083, 27.164046709), (13.037846906, 26.183526272), (15.140053299, 25.026811345))
            Line((15.140053299, 25.026811345), (19.830015605, 31.237325128))
            ThreePointArc((19.830015605, 31.237325128), (16.492319164, 33.12104178), (12.977669343, 34.649388139))
        make_face()
        with BuildLine():
            Line((24.618118968, 27.621517309), (19.928156663, 21.411003527))
            ThreePointArc((19.928156663, 21.411003527), (21.616010829, 19.705597577), (23.158406283, 17.86758849))
            Line((23.158406283, 17.86758849), (29.775162236, 21.964510325))
            ThreePointArc((29.775162236, 21.964510325), (27.343329937, 24.926738815), (24.618118968, 27.621517309))
        make_face()
        with BuildLine():
            Line((32.933755213, 16.86320751), (26.31699926, 12.766285675))
            ThreePointArc((26.31699926, 12.766285675), (27.27481271, 10.566318736), (28.049088173, 8.295248801))
            Line((28.049088173, 8.295248801), (35.699008218, 9.725266693))
            ThreePointArc((35.699008218, 9.725266693), (34.501472488, 13.365941649), (32.933755213, 16.86320751))
        make_face()
        with BuildLine():
            ThreePointArc((29.25, 0), (29.225385963, -1.199714668), (29.15158528, -2.397410203))
            Line((29.15158528, -2.397410203), (36.801505325, -3.827428095))
            ThreePointArc((36.801505325, -3.827428095), (36.950343009, -1.916285858), (37, 0))
            ThreePointArc((37, 0), (36.950343009, 1.916285858), (36.801505325, 3.827428095))
            Line((36.801505325, 3.827428095), (29.15158528, 2.397410203))
            ThreePointArc((29.15158528, 2.397410203), (29.225385963, 1.199714668), (29.25, 0))
        make_face()
        with BuildLine():
            ThreePointArc((28.049088173, -8.295248801), (27.27481271, -10.566318736), (26.31699926, -12.766285675))
            Line((26.31699926, -12.766285675), (32.933755213, -16.86320751))
            ThreePointArc((32.933755213, -16.86320751), (34.501472488, -13.365941649), (35.699008218, -9.725266693))
            Line((35.699008218, -9.725266693), (28.049088173, -8.295248801))
        make_face()
        with BuildLine():
            ThreePointArc((23.158406283, -17.86758849), (21.616010829, -19.705597577), (19.928156663, -21.411003527))
            Line((19.928156663, -21.411003527), (24.618118968, -27.621517309))
            ThreePointArc((24.618118968, -27.621517309), (27.343329937, -24.926738815), (29.775162236, -21.964510325))
            Line((29.775162236, -21.964510325), (23.158406283, -17.86758849))
        make_face()
        with BuildLine():
            ThreePointArc((15.140053299, -25.026811345), (13.037846906, -26.183526272), (10.847906083, -27.164046709))
            Line((10.847906083, -27.164046709), (12.977669343, -34.649388139))
            ThreePointArc((12.977669343, -34.649388139), (16.492319164, -33.12104178), (19.830015605, -31.237325128))
            Line((19.830015605, -31.237325128), (15.140053299, -25.026811345))
        make_face()
        with BuildLine():
            ThreePointArc((5.076952224, -28.80602465), (2.698849514, -29.125224657), (0.302585676, -29.248434863))
            Line((0.302585676, -29.248434863), (-0.415486439, -36.997667102))
            ThreePointArc((-0.415486439, -36.997667102), (3.4139293, -36.842164523), (7.206715484, -36.29136608))
            Line((7.206715484, -36.29136608), (5.076952224, -28.80602465))
        make_face()
        with BuildLine():
            ThreePointArc((-5.671819382, -28.694824706), (-8.00464246, -28.133400063), (-10.283600604, -27.382659816))
            Line((-10.283600604, -27.382659816), (-13.752528476, -34.349206112))
            ThreePointArc((-13.752528476, -34.349206112), (-10.125530633, -35.587548797), (-6.389891497, -36.444056946))
            Line((-6.389891497, -36.444056946), (-5.671819382, -28.694824706))
        make_face()
        with BuildLine():
            ThreePointArc((-28.214701174, -7.713179477), (-28.751963166, -5.374673396), (-29.095747112, -3))
            Line((-29.095747112, -3), (-36.878177829, -3))
            ThreePointArc((-36.878177829, -3), (-36.370004688, -6.798732159), (-35.471601695, -10.524517717))
            Line((-35.471601695, -10.524517717), (-28.214701174, -7.713179477))
        make_face()
        with BuildLine():
            ThreePointArc((-23.5231035, -17.384651326), (-24.86885122, -15.398140764), (-26.047251177, -13.308012854))
            Line((-26.047251177, -13.308012854), (-33.304151698, -16.119351093))
            ThreePointArc((-33.304151698, -16.119351093), (-31.458034022, -19.477990026), (-29.274389198, -22.627640997))
            Line((-29.274389198, -22.627640997), (-23.5231035, -17.384651326))
        make_face()
        with BuildLine():
            ThreePointArc((-15.654580352, -24.708229682), (-17.627063114, -23.342003898), (-19.480929638, -21.81870483))
            Line((-19.480929638, -21.81870483), (-25.232215336, -27.061694501))
            ThreePointArc((-25.232215336, -27.061694501), (-22.297481546, -29.526637409), (-19.123508224, -31.674775977))
            Line((-19.123508224, -31.674775977), (-15.654580352, -24.708229682))
        make_face()
    extrude(amount=CUT_EXTRUDE3_DEPTH, mode=Mode.SUBTRACT)


solid = part_2.part
